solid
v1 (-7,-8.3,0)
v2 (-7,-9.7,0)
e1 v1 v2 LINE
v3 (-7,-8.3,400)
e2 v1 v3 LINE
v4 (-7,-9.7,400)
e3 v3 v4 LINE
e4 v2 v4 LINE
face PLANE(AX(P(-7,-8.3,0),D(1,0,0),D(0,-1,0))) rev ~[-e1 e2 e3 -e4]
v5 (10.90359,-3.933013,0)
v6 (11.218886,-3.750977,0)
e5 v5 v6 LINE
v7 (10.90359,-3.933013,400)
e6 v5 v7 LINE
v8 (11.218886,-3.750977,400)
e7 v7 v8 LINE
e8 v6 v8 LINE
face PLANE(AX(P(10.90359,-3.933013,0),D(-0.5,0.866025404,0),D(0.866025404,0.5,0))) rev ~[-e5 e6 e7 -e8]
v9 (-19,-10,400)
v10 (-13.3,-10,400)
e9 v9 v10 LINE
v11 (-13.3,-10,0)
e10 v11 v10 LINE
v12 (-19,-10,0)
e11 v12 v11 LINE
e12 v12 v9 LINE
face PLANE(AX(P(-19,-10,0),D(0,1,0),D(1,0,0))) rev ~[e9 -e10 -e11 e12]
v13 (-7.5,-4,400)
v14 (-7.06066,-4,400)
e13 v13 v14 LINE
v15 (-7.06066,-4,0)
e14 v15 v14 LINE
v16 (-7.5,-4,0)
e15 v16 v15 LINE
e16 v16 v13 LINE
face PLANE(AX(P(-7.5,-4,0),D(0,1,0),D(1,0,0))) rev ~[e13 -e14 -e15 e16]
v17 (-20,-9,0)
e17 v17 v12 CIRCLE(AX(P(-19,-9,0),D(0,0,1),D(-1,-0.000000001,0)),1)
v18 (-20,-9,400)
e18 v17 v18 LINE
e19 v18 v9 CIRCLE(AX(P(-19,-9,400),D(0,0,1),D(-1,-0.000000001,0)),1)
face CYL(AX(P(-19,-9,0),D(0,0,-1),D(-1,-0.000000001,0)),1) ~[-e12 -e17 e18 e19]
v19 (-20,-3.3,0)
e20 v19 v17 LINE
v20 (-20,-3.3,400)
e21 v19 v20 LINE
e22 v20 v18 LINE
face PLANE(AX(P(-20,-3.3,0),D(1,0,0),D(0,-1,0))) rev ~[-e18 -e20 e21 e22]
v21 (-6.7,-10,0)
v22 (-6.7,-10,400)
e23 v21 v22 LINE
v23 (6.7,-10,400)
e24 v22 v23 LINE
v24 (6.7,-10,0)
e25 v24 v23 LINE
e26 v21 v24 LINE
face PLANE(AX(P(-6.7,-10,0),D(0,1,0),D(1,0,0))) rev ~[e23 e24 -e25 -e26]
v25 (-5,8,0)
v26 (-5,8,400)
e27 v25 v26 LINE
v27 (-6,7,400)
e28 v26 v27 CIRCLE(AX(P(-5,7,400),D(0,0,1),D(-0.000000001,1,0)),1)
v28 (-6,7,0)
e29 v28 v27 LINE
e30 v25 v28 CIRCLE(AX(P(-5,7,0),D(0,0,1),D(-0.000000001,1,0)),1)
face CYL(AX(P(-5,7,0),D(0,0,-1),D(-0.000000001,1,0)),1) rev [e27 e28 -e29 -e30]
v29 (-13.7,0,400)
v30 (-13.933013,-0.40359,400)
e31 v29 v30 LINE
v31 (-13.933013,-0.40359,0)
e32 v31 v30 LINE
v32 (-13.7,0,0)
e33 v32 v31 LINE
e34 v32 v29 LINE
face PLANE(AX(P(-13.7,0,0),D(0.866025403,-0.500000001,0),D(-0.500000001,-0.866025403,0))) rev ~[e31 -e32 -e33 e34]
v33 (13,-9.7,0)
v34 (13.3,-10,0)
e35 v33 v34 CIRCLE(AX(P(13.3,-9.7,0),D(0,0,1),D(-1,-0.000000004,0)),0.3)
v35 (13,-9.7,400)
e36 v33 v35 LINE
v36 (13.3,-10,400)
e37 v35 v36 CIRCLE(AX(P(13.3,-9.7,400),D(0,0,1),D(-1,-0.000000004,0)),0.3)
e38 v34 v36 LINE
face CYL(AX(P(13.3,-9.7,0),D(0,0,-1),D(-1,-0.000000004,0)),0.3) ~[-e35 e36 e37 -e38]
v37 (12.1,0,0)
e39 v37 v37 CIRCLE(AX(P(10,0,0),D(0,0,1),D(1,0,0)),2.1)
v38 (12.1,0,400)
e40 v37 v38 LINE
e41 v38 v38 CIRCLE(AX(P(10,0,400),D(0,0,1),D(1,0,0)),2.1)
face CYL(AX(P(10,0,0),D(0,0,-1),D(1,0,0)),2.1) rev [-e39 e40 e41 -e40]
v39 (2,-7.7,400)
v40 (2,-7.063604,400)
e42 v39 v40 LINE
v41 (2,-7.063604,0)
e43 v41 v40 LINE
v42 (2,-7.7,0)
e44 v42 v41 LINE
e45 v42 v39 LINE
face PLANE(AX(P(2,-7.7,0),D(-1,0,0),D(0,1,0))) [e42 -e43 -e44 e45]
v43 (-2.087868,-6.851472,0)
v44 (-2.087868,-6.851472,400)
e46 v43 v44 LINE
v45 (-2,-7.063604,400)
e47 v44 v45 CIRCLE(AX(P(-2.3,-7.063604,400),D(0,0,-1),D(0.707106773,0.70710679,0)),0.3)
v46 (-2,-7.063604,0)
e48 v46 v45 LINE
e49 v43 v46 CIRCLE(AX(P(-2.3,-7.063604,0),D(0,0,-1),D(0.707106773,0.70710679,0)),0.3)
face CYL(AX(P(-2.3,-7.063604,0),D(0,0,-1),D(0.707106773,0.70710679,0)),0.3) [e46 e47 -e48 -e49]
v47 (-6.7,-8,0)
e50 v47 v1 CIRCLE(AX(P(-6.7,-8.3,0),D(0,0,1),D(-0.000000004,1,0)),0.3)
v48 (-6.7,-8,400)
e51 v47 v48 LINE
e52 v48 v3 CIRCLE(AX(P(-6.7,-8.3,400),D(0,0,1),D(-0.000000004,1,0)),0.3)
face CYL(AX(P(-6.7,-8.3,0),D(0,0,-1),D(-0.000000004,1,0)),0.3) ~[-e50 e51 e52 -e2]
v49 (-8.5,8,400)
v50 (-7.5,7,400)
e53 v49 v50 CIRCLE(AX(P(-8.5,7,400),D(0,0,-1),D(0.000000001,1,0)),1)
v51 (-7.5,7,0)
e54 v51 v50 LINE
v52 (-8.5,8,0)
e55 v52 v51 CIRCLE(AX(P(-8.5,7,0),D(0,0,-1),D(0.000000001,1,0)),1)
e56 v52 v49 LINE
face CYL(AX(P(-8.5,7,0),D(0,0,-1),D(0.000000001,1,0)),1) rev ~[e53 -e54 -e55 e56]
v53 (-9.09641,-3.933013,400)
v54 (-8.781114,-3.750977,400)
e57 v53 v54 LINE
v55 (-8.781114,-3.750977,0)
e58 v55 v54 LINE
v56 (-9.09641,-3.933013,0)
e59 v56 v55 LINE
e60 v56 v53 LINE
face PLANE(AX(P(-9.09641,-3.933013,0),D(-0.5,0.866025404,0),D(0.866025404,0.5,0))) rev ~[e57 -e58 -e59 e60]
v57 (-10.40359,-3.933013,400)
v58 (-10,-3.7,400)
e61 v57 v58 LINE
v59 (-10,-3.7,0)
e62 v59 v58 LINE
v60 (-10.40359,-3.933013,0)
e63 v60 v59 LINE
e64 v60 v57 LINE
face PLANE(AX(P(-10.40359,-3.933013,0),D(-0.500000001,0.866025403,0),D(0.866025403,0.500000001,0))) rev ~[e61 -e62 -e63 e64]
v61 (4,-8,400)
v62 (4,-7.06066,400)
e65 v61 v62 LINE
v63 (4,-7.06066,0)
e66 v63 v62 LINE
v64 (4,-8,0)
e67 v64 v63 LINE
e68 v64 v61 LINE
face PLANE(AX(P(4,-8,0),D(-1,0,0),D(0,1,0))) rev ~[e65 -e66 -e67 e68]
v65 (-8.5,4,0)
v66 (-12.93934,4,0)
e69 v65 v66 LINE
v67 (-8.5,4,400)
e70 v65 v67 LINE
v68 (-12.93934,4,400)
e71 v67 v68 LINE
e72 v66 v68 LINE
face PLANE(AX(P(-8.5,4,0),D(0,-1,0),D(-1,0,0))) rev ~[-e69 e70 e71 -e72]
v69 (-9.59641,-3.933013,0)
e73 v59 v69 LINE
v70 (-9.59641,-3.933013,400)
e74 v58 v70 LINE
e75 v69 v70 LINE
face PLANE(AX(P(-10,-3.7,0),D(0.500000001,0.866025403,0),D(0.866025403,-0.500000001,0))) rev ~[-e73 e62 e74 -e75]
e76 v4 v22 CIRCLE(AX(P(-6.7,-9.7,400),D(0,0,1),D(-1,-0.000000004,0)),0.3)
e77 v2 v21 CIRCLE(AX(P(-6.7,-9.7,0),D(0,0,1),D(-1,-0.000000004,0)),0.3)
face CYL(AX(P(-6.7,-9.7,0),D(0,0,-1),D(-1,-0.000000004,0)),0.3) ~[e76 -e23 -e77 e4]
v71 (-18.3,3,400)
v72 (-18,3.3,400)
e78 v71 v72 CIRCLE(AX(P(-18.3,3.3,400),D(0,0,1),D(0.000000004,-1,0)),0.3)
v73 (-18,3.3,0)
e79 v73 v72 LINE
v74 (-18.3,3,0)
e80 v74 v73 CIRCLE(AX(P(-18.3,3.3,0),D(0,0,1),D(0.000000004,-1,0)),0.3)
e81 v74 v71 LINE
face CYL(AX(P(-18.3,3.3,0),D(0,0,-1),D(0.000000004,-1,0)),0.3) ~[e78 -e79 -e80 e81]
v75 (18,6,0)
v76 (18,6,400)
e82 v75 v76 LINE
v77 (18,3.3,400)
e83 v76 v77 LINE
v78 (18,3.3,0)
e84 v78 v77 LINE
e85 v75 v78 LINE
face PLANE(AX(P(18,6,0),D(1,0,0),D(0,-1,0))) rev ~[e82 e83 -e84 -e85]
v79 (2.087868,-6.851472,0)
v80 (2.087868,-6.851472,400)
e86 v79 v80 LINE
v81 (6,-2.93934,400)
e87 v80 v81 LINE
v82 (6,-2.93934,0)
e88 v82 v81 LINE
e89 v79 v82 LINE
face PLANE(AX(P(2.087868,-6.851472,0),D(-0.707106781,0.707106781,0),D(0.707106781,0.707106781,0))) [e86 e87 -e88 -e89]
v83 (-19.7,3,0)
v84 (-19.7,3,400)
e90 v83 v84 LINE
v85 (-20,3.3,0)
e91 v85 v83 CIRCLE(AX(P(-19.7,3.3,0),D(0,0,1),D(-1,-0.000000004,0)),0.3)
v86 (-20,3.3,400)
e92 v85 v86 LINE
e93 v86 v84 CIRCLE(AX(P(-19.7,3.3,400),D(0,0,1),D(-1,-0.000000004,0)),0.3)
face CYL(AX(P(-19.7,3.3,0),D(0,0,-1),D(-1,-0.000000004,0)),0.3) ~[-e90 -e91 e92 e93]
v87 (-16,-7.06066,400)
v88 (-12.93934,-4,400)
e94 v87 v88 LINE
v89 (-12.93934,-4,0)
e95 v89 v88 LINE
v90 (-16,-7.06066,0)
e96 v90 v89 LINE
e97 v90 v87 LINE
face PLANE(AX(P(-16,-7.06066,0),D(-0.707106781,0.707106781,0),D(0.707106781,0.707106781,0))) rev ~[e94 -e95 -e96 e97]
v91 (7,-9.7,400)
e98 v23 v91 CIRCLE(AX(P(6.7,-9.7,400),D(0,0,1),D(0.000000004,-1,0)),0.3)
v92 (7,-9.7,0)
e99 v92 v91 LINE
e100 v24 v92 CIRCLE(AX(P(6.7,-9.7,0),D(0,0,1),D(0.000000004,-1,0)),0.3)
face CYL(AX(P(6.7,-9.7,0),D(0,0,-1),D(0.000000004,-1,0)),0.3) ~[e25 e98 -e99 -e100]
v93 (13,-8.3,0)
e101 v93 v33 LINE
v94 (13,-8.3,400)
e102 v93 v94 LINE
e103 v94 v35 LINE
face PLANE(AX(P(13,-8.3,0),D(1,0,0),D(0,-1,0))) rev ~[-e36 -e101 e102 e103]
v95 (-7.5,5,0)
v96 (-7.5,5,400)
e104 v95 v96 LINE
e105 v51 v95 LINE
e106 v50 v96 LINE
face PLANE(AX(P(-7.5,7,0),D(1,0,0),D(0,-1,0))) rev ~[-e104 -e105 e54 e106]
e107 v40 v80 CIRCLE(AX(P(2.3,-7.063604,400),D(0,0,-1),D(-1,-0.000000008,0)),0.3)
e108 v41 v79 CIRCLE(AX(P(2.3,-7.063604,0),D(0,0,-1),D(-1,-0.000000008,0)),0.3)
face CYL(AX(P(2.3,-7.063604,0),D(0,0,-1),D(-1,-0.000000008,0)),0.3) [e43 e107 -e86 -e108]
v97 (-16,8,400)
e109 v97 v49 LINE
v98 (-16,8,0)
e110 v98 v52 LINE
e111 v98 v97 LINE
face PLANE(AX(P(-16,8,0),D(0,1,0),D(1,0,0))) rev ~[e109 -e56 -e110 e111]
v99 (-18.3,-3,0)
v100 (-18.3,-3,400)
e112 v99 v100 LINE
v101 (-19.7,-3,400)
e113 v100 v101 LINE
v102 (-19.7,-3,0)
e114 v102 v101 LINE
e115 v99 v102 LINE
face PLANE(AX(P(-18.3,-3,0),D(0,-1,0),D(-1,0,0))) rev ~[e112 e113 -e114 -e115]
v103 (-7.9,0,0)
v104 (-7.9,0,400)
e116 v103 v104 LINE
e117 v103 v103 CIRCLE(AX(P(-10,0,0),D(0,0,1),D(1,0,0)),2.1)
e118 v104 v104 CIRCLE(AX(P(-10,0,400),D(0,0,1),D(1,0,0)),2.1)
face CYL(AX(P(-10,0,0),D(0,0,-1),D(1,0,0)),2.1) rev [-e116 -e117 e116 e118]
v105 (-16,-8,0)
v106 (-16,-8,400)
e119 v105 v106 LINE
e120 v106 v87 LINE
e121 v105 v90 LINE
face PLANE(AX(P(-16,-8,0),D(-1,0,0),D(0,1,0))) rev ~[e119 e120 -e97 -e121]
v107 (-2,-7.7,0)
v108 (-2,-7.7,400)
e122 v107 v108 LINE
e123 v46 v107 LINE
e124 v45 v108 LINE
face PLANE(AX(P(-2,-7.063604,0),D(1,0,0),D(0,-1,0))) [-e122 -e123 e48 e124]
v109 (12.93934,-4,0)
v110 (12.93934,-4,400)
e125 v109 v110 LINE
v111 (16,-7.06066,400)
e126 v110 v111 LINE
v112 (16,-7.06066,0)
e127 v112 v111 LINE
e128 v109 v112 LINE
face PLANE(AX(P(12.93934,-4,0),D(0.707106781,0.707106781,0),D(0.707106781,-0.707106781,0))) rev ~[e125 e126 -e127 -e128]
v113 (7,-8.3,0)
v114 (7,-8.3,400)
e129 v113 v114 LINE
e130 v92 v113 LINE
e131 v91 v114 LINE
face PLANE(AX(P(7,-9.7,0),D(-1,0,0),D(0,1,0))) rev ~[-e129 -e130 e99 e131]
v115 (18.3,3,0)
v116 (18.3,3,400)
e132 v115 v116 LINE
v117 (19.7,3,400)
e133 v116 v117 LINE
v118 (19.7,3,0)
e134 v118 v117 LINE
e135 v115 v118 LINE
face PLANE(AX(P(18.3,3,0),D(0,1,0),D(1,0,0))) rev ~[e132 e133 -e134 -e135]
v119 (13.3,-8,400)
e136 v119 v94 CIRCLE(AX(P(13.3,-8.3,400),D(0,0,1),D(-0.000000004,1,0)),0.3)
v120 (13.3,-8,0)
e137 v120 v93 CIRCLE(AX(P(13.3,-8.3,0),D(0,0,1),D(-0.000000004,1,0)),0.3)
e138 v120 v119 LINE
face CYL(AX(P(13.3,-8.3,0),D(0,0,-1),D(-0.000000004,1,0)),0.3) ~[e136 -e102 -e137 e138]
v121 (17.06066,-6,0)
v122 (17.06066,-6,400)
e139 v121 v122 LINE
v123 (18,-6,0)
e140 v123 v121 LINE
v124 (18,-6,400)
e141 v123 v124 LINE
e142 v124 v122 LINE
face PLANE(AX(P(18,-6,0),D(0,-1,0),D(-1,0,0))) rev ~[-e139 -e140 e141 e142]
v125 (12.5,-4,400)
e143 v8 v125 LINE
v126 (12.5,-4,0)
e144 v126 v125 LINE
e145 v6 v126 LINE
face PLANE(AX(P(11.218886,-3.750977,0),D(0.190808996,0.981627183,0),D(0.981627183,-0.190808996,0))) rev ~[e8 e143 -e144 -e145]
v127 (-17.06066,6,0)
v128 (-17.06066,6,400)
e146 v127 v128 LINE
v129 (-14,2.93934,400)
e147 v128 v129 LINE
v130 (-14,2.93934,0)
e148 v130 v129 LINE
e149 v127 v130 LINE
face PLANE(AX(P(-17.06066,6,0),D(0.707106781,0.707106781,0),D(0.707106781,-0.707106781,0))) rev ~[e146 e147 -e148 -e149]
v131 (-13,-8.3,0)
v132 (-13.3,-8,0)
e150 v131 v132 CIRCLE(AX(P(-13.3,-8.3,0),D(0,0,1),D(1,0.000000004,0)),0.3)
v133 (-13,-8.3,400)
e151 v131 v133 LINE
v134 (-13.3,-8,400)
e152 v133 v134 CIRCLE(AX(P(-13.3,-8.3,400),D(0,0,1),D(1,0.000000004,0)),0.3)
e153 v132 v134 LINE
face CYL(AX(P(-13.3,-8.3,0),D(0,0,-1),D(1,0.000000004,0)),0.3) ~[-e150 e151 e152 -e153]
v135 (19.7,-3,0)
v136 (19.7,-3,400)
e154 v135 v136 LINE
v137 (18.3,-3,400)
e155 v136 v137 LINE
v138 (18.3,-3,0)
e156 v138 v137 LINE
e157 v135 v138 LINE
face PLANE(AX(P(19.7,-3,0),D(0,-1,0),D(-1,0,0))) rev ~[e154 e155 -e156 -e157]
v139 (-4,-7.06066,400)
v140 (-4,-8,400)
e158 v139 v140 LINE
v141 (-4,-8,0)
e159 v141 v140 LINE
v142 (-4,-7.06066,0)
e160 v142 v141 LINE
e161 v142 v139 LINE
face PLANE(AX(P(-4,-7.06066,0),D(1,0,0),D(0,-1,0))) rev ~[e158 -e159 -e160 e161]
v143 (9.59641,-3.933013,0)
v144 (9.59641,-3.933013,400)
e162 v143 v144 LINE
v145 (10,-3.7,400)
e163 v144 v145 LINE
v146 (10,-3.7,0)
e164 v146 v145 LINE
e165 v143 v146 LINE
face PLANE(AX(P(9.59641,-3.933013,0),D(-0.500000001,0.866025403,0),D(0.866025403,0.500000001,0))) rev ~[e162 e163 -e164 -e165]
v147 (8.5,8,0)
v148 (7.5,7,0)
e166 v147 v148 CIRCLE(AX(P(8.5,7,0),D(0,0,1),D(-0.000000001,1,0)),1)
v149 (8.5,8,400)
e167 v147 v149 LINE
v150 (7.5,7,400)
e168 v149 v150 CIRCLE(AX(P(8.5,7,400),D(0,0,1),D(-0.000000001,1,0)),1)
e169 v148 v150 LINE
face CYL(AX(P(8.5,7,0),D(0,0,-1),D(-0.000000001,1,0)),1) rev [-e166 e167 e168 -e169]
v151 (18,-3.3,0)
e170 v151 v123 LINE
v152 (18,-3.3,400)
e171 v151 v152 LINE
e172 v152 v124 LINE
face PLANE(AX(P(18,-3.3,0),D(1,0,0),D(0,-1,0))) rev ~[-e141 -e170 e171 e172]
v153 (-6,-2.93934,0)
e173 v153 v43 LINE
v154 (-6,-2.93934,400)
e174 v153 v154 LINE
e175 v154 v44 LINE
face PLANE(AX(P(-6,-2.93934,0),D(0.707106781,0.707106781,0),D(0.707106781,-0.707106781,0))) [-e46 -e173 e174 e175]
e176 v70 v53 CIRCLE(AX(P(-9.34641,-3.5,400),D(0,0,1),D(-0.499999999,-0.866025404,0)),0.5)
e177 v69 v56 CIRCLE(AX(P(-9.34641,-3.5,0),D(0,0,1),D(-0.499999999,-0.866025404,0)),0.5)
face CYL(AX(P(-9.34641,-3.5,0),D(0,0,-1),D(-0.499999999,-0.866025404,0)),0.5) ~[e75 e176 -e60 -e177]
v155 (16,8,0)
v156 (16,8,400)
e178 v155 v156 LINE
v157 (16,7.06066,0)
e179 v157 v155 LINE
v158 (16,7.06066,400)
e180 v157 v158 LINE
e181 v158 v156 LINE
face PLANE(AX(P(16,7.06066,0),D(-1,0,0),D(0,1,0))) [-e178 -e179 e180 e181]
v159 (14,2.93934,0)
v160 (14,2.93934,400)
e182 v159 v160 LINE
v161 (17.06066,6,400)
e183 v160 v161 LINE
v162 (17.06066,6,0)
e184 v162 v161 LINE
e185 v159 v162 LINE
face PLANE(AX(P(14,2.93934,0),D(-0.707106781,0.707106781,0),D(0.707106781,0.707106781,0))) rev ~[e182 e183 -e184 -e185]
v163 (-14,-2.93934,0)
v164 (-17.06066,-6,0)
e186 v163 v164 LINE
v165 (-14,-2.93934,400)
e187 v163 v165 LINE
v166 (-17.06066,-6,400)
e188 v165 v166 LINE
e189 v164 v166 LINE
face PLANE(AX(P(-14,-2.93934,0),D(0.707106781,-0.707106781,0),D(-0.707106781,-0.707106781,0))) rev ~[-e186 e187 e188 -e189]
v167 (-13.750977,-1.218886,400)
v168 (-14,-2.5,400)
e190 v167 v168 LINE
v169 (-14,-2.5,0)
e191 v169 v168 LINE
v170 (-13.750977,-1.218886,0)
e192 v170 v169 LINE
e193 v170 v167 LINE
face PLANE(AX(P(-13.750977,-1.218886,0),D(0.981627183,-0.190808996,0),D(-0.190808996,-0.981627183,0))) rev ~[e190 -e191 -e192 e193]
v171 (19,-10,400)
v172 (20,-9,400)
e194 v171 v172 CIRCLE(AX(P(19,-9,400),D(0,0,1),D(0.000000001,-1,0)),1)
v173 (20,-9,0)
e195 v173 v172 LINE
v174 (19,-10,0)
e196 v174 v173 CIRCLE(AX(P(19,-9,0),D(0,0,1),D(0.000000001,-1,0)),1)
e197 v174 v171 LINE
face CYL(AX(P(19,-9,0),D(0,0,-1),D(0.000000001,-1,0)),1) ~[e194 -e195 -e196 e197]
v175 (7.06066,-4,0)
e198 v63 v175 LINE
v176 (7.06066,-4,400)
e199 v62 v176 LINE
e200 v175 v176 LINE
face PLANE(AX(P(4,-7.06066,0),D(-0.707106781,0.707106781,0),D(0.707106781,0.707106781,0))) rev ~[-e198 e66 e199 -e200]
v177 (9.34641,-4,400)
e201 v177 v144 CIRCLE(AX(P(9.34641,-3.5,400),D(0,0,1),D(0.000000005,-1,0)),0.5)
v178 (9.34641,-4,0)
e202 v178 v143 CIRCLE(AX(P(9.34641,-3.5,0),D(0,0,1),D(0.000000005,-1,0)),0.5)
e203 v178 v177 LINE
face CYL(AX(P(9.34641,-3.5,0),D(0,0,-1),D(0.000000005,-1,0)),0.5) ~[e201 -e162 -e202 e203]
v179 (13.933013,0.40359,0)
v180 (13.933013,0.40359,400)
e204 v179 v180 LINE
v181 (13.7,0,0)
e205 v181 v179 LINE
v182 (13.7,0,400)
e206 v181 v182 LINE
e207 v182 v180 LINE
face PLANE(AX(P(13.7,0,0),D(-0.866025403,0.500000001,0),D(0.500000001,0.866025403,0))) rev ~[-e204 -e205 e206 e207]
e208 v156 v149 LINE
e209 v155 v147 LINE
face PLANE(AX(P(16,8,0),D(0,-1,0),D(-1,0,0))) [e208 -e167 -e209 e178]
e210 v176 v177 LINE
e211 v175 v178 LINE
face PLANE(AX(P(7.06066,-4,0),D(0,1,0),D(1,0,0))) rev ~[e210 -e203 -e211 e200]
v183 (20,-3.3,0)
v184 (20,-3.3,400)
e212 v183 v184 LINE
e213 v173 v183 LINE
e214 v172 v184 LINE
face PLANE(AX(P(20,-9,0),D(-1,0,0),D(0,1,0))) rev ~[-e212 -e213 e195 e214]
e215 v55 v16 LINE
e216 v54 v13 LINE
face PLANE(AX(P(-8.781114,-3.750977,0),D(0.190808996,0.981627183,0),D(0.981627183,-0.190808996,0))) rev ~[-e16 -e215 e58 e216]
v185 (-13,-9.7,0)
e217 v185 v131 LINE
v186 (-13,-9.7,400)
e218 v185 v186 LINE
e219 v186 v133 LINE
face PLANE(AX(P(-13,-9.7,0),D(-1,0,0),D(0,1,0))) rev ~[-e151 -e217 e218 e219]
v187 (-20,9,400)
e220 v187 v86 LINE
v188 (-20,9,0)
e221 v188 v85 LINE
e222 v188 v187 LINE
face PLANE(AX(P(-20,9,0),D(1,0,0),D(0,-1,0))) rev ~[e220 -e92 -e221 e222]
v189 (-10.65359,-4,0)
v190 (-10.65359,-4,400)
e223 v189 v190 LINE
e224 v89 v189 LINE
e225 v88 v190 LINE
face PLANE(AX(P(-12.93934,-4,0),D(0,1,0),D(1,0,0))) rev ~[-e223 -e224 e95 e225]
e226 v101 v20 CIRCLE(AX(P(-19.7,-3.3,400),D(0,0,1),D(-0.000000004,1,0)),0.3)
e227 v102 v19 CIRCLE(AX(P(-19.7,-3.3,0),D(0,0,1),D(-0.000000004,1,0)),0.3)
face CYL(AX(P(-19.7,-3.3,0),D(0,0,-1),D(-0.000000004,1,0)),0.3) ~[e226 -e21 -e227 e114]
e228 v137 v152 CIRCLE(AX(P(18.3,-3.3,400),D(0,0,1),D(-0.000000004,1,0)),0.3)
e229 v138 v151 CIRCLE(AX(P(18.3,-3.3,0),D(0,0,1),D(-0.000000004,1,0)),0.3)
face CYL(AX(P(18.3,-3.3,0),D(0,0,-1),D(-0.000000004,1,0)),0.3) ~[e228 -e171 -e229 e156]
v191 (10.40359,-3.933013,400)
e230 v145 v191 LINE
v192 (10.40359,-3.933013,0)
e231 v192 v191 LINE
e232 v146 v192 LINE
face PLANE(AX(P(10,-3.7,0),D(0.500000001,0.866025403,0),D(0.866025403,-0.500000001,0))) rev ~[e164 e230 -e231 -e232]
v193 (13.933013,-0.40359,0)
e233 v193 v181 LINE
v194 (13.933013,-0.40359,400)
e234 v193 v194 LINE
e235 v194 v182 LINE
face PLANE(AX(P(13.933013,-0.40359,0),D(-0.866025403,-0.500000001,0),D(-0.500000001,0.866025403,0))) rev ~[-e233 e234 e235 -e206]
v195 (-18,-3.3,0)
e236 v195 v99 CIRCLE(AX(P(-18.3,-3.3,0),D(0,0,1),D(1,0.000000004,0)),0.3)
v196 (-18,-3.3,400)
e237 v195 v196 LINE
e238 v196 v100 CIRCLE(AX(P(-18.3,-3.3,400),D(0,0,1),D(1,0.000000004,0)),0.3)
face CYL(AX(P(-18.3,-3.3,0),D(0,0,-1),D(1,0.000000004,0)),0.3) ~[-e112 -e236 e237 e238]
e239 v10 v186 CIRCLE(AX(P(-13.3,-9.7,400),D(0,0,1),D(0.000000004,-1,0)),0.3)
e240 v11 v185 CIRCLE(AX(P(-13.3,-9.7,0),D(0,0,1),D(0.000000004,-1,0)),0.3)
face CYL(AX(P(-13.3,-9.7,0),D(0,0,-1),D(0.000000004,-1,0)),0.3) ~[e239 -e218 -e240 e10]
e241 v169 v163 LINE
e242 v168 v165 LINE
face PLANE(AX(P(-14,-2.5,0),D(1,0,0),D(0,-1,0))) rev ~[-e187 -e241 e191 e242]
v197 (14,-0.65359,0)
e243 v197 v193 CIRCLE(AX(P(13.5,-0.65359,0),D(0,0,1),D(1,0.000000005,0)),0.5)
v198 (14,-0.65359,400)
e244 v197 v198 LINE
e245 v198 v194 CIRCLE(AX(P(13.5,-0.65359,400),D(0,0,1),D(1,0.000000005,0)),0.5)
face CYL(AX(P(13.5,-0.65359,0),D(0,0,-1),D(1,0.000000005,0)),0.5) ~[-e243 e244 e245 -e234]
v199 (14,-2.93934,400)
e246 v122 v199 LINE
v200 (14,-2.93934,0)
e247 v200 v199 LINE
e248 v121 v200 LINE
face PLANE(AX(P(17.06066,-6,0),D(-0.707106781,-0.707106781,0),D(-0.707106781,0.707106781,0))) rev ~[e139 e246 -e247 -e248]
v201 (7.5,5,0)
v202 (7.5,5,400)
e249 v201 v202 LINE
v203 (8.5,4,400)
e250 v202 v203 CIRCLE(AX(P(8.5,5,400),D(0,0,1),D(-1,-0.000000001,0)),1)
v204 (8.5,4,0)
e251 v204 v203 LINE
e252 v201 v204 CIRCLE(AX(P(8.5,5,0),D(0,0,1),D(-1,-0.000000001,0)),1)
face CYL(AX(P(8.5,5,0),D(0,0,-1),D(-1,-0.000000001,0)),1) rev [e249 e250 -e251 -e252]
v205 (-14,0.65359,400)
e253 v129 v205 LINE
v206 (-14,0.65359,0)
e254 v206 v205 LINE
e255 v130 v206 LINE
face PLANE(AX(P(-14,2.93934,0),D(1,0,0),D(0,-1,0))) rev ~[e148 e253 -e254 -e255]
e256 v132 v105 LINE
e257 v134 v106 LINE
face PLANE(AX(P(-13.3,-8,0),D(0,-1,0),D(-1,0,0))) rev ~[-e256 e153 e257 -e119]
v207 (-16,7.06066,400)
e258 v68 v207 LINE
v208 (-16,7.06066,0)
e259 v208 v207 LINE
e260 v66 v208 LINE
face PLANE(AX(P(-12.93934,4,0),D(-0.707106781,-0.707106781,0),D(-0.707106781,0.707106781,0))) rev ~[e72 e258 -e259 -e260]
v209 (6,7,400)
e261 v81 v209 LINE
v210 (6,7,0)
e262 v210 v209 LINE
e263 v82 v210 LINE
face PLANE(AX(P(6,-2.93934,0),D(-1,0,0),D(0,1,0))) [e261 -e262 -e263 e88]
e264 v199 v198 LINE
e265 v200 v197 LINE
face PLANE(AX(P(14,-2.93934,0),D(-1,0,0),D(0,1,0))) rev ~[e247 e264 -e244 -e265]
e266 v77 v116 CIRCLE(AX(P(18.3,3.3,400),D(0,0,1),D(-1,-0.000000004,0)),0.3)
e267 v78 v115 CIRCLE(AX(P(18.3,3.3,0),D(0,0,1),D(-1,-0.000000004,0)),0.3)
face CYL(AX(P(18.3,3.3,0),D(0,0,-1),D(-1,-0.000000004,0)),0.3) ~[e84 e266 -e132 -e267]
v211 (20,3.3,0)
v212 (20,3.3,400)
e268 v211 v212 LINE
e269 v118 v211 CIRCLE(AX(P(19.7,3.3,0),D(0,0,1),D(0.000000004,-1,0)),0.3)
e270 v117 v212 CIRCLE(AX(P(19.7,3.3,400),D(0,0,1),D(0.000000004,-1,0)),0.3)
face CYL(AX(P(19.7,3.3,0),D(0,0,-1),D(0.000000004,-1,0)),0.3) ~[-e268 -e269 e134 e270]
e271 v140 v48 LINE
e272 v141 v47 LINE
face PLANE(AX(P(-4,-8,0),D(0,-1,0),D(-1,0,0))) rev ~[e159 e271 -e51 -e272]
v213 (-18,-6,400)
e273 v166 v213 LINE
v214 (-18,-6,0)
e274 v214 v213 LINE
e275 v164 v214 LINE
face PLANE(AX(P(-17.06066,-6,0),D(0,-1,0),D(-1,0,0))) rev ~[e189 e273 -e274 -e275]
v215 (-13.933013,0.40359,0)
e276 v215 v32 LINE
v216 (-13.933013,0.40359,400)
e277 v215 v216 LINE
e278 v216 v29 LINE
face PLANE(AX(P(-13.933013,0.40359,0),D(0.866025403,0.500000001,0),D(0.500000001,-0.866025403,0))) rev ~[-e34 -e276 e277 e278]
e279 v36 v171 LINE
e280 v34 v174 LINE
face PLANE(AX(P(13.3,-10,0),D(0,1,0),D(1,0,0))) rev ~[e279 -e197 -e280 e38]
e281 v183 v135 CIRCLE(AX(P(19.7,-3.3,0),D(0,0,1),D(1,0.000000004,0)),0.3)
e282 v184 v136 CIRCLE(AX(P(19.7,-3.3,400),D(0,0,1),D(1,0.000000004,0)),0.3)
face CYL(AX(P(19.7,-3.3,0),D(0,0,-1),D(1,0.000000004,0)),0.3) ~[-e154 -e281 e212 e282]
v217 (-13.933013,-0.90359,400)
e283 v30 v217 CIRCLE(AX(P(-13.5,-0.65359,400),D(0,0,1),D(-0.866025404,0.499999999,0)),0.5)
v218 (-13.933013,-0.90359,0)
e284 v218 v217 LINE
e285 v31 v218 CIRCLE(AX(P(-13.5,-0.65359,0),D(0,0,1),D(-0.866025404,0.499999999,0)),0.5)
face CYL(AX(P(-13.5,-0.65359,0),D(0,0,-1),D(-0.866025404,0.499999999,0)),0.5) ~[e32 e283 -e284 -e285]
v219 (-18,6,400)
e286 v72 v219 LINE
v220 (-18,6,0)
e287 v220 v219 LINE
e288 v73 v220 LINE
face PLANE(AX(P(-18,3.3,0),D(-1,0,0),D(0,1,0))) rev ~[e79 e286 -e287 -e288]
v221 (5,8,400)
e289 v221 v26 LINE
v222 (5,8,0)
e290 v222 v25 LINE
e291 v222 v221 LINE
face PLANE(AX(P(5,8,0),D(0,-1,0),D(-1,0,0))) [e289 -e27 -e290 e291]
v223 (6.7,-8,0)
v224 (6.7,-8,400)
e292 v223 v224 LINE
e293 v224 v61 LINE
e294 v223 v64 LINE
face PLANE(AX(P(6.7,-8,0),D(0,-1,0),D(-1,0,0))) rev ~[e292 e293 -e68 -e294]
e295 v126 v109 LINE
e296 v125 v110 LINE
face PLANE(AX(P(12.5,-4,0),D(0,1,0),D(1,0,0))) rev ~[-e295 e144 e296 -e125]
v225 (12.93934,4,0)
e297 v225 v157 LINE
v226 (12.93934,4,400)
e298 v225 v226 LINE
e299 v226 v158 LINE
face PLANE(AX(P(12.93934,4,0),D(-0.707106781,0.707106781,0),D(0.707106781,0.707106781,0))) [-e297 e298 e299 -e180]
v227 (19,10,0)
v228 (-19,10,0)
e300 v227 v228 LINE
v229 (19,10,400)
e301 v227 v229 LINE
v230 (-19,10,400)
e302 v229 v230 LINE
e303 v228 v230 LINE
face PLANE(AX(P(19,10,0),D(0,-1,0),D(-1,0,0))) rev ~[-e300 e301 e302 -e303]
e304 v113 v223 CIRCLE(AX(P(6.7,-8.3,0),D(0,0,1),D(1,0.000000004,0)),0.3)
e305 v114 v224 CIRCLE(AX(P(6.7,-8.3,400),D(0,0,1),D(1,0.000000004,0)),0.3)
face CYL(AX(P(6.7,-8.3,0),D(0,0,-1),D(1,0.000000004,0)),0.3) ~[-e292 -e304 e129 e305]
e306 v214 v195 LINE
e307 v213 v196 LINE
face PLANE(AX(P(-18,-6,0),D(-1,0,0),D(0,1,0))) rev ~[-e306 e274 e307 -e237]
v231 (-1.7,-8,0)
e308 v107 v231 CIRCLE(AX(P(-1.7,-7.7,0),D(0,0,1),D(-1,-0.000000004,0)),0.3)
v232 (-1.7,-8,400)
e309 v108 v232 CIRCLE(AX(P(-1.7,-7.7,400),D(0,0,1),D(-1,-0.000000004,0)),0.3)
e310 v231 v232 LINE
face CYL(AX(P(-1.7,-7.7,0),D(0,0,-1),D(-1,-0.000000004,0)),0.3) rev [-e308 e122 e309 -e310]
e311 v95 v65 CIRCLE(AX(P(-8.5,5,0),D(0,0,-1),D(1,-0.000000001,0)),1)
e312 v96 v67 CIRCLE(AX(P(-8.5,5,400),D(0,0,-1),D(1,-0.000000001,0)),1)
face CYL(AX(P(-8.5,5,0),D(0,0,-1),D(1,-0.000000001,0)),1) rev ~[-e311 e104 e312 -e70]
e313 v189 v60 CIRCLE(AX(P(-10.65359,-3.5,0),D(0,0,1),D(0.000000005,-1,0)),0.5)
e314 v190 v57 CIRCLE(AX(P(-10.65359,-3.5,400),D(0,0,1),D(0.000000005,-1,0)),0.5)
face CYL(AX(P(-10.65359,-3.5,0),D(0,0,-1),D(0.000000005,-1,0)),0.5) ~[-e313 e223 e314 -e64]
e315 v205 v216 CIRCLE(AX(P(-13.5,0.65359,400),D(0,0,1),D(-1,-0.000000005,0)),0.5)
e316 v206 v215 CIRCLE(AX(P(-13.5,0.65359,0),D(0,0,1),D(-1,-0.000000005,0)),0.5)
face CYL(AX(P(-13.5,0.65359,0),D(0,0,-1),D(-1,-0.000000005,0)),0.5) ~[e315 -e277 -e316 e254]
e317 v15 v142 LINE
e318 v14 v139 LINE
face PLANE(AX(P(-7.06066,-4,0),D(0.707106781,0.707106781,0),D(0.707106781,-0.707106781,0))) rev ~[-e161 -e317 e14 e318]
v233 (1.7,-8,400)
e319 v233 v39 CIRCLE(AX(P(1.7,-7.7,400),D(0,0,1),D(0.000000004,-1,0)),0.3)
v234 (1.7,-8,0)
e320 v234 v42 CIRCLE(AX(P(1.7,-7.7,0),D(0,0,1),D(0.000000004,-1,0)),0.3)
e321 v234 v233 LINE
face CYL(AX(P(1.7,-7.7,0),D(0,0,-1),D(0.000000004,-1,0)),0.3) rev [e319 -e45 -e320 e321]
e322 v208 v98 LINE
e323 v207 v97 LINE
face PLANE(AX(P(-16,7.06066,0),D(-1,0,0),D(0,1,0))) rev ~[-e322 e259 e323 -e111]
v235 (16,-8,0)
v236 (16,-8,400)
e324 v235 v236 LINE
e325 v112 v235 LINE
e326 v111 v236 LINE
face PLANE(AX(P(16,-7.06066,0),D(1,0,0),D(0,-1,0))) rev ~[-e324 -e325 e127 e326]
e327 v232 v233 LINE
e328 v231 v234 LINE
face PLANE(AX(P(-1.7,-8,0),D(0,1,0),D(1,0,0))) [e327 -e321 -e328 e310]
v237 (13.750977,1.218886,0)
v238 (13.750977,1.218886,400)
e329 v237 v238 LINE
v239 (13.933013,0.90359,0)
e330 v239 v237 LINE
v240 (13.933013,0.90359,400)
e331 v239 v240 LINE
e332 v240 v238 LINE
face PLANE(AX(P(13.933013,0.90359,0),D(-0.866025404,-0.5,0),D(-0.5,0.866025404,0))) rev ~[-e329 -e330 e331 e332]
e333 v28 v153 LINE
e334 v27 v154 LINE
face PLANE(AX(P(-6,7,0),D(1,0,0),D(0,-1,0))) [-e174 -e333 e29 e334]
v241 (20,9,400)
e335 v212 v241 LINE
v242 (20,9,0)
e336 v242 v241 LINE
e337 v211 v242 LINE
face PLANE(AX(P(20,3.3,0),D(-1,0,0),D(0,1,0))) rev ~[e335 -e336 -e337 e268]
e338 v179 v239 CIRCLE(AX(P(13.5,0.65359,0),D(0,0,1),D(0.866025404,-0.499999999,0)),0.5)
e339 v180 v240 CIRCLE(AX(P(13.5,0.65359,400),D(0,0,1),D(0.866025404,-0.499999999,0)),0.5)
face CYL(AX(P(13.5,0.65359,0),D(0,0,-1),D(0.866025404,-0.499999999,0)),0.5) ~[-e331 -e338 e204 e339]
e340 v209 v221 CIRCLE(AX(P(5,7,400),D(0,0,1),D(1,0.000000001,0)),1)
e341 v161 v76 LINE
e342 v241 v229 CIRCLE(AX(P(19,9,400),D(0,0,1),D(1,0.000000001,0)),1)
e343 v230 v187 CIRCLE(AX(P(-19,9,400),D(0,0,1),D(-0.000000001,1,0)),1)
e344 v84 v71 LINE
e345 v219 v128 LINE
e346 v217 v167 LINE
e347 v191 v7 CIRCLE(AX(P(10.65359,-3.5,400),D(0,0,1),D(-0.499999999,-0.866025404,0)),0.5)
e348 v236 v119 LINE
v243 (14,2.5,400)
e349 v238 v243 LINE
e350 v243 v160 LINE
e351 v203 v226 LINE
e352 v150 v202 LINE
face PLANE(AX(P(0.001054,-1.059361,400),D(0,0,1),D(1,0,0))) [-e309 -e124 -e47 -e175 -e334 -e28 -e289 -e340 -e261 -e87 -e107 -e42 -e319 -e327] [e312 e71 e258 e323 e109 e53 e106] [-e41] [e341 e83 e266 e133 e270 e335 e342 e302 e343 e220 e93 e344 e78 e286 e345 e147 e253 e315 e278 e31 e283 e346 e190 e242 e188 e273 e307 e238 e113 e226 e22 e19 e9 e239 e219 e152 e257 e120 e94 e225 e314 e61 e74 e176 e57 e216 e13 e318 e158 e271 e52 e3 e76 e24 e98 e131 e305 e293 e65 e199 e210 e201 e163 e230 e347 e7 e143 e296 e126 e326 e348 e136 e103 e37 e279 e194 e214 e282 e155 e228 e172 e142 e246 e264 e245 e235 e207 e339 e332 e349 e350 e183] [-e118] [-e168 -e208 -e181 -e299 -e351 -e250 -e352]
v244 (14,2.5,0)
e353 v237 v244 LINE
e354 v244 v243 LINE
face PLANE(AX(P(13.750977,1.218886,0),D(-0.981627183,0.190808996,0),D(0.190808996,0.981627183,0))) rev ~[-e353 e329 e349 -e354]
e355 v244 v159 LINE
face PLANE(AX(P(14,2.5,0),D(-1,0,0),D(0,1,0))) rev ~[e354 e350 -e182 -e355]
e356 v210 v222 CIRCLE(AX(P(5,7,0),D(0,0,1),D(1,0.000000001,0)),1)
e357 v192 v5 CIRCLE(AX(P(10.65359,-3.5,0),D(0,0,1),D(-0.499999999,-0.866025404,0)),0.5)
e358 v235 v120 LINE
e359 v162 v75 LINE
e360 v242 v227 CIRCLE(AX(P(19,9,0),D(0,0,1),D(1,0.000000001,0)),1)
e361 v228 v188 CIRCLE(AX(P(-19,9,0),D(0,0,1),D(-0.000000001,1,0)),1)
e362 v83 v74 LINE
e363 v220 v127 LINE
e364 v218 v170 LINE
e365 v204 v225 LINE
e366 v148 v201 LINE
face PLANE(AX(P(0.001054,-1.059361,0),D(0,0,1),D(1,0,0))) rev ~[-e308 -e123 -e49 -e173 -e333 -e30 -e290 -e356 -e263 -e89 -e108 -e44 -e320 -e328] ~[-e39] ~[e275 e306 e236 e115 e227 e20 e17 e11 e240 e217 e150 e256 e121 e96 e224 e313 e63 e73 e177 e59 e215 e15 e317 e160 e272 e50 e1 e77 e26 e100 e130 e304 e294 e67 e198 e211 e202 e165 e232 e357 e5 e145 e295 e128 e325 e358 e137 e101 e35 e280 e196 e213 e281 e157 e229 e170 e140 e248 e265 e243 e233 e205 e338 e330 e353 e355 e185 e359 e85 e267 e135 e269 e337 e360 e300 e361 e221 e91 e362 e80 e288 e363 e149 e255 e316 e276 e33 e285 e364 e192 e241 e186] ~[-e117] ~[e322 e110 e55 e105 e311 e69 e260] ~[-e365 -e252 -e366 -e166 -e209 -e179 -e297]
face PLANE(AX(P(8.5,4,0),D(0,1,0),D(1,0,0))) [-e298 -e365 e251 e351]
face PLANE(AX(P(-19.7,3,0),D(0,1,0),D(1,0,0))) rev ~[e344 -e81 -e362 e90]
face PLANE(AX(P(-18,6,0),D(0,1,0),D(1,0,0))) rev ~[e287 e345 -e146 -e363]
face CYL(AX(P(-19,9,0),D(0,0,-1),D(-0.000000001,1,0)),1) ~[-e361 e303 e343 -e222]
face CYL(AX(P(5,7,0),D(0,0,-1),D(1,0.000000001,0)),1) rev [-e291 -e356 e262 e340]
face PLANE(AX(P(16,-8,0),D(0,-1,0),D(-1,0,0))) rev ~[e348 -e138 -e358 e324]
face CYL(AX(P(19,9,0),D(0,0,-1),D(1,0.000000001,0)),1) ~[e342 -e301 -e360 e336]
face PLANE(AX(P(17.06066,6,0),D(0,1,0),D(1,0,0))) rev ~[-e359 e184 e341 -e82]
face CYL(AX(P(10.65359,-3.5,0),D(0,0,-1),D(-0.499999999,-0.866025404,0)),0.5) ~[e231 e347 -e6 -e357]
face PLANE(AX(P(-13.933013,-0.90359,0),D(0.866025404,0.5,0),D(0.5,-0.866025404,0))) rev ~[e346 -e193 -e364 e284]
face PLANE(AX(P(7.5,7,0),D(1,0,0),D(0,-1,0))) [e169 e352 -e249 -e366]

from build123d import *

# Parameters (mm, degrees)
MODEL_R             = 2.1
BOSS_EXTRUDE1_DEPTH = 400


with BuildPart() as part:
    # Model → Boss-Extrude1 (new body)
    with BuildSketch(Plane.XY):
        with BuildLine():
            Line((19, 10), (-19, 10))
            ThreePointArc((-19, 10), (-19.707106781, 9.707106781), (-20, 9))
            Line((-20, 9), (-20, 3.3))
            ThreePointArc((-20, 3.3), (-19.912132034, 3.087867966), (-19.7, 3))
            Line((-19.7, 3), (-18.3, 3))
            ThreePointArc((-18.3, 3), (-18.087867966, 3.087867966), (-18, 3.3))
            Line((-18, 3.3), (-18, 6))
            Line((-18, 6), (-17.060660172, 6))
            Line((-17.060660172, 6), (-14, 2.939339828))
            Line((-14, 2.939339828), (-14, 0.653589838))
            ThreePointArc((-14, 0.653589838), (-13.982962913, 0.524180316), (-13.933012702, 0.403589838))
            Line((-13.933012702, 0.403589838), (-13.7, 0))
            Line((-13.7, 0), (-13.933012702, -0.403589838))
            ThreePointArc((-13.933012702, -0.403589838), (-14, -0.653589838), (-13.933012702, -0.903589838))
            Line((-13.933012702, -0.903589838), (-13.750976592, -1.218885629))
            Line((-13.750976592, -1.218885629), (-14, -2.5))
            Line((-14, -2.5), (-14, -2.939339828))
            Line((-14, -2.939339828), (-17.060660172, -6))
            Line((-17.060660172, -6), (-18, -6))
            Line((-18, -6), (-18, -3.3))
            ThreePointArc((-18, -3.3), (-18.087867966, -3.087867966), (-18.3, -3))
            Line((-18.3, -3), (-19.7, -3))
            ThreePointArc((-19.7, -3), (-19.912132034, -3.087867966), (-20, -3.3))
            Line((-20, -3.3), (-20, -9))
            ThreePointArc((-20, -9), (-19.707106781, -9.707106781), (-19, -10))
            Line((-19, -10), (-13.3, -10))
            ThreePointArc((-13.3, -10), (-13.087867966, -9.912132034), (-13, -9.7))
            Line((-13, -9.7), (-13, -8.3))
            ThreePointArc((-13, -8.3), (-13.087867966, -8.087867966), (-13.3, -8))
            Line((-13.3, -8), (-16, -8))
            Line((-16, -8), (-16, -7.060660172))
            Line((-16, -7.060660172), (-12.939339828, -4))
            Line((-12.939339828, -4), (-10.653589838, -4))
            ThreePointArc((-10.653589838, -4), (-10.524180316, -3.982962913), (-10.403589838, -3.933012702))
            Line((-10.403589838, -3.933012702), (-10, -3.7))
            Line((-10, -3.7), (-9.596410162, -3.933012702))
            ThreePointArc((-9.596410162, -3.933012702), (-9.346410162, -4), (-9.096410162, -3.933012702))
            Line((-9.096410162, -3.933012702), (-8.781114371, -3.750976592))
            Line((-8.781114371, -3.750976592), (-7.5, -4))
            Line((-7.5, -4), (-7.060660172, -4))
            Line((-7.060660172, -4), (-4, -7.060660172))
            Line((-4, -7.060660172), (-4, -8))
            Line((-4, -8), (-6.7, -8))
            ThreePointArc((-6.7, -8), (-6.912132034, -8.087867966), (-7, -8.3))
            Line((-7, -8.3), (-7, -9.7))
            ThreePointArc((-7, -9.7), (-6.912132034, -9.912132034), (-6.7, -10))
            Line((-6.7, -10), (6.7, -10))
            ThreePointArc((6.7, -10), (6.912132034, -9.912132034), (7, -9.7))
            Line((7, -9.7), (7, -8.3))
            ThreePointArc((7, -8.3), (6.912132034, -8.087867966), (6.7, -8))
            Line((6.7, -8), (4, -8))
            Line((4, -8), (4, -7.060660172))
            Line((4, -7.060660172), (7.060660172, -4))
            Line((7.060660172, -4), (9.346410162, -4))
            ThreePointArc((9.346410162, -4), (9.475819684, -3.982962913), (9.596410162, -3.933012702))
            Line((9.596410162, -3.933012702), (10, -3.7))
            Line((10, -3.7), (10.403589838, -3.933012702))
            ThreePointArc((10.403589838, -3.933012702), (10.653589838, -4), (10.903589838, -3.933012702))
            Line((10.903589838, -3.933012702), (11.218885629, -3.750976592))
            Line((11.218885629, -3.750976592), (12.5, -4))
            Line((12.5, -4), (12.939339828, -4))
            Line((12.939339828, -4), (16, -7.060660172))
            Line((16, -7.060660172), (16, -8))
            Line((16, -8), (13.3, -8))
            ThreePointArc((13.3, -8), (13.087867966, -8.087867966), (13, -8.3))
            Line((13, -8.3), (13, -9.7))
            ThreePointArc((13, -9.7), (13.087867966, -9.912132034), (13.3, -10))
            Line((13.3, -10), (19, -10))
            ThreePointArc((19, -10), (19.707106781, -9.707106781), (20, -9))
            Line((20, -9), (20, -3.3))
            ThreePointArc((20, -3.3), (19.912132034, -3.087867966), (19.7, -3))
            Line((19.7, -3), (18.3, -3))
            ThreePointArc((18.3, -3), (18.087867966, -3.087867966), (18, -3.3))
            Line((18, -3.3), (18, -6))
            Line((18, -6), (17.060660172, -6))
            Line((17.060660172, -6), (14, -2.939339828))
            Line((14, -2.939339828), (14, -0.653589838))
            ThreePointArc((14, -0.653589838), (13.982962913, -0.524180316), (13.933012702, -0.403589838))
            Line((13.933012702, -0.403589838), (13.7, 0))
            Line((13.7, 0), (13.933012702, 0.403589838))
            ThreePointArc((13.933012702, 0.403589838), (14, 0.653589838), (13.933012702, 0.903589838))
            Line((13.933012702, 0.903589838), (13.750976592, 1.218885629))
            Line((13.750976592, 1.218885629), (14, 2.5))
            Line((14, 2.5), (14, 2.939339828))
            Line((14, 2.939339828), (17.060660172, 6))
            Line((17.060660172, 6), (18, 6))
            Line((18, 6), (18, 3.3))
            ThreePointArc((18, 3.3), (18.087867966, 3.087867966), (18.3, 3))
            Line((18.3, 3), (19.7, 3))
            ThreePointArc((19.7, 3), (19.912132034, 3.087867966), (20, 3.3))
            Line((20, 3.3), (20, 9))
            ThreePointArc((20, 9), (19.707106781, 9.707106781), (19, 10))
        make_face()
        with Locations((-10, 0)):
            Circle(MODEL_R, mode=Mode.SUBTRACT)
        with Locations((10, 0)):
            Circle(MODEL_R, mode=Mode.SUBTRACT)
        with BuildLine():
            Line((-8.5, 4), (-12.939339828, 4))
            Line((-12.939339828, 4), (-16, 7.060660172))
            Line((-16, 7.060660172), (-16, 8))
            Line((-16, 8), (-8.5, 8))
            ThreePointArc((-8.5, 8), (-7.792893219, 7.707106781), (-7.5, 7))
            Line((-7.5, 7), (-7.5, 5))
            ThreePointArc((-7.5, 5), (-7.792893219, 4.292893219), (-8.5, 4))
        make_face(mode=Mode.SUBTRACT)
        with BuildLine():
            Line((8.5, 4), (12.939339828, 4))
            Line((12.939339828, 4), (16, 7.060660172))
            Line((16, 7.060660172), (16, 8))
            Line((16, 8), (8.5, 8))
            ThreePointArc((8.5, 8), (7.792893219, 7.707106781), (7.5, 7))
            Line((7.5, 7), (7.5, 5))
            ThreePointArc((7.5, 5), (7.792893219, 4.292893219), (8.5, 4))
        make_face(mode=Mode.SUBTRACT)
        with BuildLine():
            Line((-6, 7), (-6, -2.939339828))
            Line((-6, -2.939339828), (-2.087867966, -6.851471863))
            ThreePointArc((-2.087867966, -6.851471863), (-2.02283614, -6.948798867), (-2, -7.063603897))
            Line((-2, -7.063603897), (-2, -7.7))
            ThreePointArc((-2, -7.7), (-1.912132034, -7.912132034), (-1.7, -8))
            Line((-1.7, -8), (1.7, -8))
            ThreePointArc((1.7, -8), (1.912132034, -7.912132034), (2, -7.7))
            Line((2, -7.7), (2, -7.063603897))
            ThreePointArc((2, -7.063603897), (2.02283614, -6.948798867), (2.087867966, -6.851471863))
            Line((2.087867966, -6.851471863), (6, -2.939339828))
            Line((6, -2.939339828), (6, 7))
            ThreePointArc((6, 7), (5.707106781, 7.707106781), (5, 8))
            Line((5, 8), (-5, 8))
            ThreePointArc((-5, 8), (-5.707106781, 7.707106781), (-6, 7))
        make_face(mode=Mode.SUBTRACT)
    extrude(amount=BOSS_EXTRUDE1_DEPTH)


solid = part.part
